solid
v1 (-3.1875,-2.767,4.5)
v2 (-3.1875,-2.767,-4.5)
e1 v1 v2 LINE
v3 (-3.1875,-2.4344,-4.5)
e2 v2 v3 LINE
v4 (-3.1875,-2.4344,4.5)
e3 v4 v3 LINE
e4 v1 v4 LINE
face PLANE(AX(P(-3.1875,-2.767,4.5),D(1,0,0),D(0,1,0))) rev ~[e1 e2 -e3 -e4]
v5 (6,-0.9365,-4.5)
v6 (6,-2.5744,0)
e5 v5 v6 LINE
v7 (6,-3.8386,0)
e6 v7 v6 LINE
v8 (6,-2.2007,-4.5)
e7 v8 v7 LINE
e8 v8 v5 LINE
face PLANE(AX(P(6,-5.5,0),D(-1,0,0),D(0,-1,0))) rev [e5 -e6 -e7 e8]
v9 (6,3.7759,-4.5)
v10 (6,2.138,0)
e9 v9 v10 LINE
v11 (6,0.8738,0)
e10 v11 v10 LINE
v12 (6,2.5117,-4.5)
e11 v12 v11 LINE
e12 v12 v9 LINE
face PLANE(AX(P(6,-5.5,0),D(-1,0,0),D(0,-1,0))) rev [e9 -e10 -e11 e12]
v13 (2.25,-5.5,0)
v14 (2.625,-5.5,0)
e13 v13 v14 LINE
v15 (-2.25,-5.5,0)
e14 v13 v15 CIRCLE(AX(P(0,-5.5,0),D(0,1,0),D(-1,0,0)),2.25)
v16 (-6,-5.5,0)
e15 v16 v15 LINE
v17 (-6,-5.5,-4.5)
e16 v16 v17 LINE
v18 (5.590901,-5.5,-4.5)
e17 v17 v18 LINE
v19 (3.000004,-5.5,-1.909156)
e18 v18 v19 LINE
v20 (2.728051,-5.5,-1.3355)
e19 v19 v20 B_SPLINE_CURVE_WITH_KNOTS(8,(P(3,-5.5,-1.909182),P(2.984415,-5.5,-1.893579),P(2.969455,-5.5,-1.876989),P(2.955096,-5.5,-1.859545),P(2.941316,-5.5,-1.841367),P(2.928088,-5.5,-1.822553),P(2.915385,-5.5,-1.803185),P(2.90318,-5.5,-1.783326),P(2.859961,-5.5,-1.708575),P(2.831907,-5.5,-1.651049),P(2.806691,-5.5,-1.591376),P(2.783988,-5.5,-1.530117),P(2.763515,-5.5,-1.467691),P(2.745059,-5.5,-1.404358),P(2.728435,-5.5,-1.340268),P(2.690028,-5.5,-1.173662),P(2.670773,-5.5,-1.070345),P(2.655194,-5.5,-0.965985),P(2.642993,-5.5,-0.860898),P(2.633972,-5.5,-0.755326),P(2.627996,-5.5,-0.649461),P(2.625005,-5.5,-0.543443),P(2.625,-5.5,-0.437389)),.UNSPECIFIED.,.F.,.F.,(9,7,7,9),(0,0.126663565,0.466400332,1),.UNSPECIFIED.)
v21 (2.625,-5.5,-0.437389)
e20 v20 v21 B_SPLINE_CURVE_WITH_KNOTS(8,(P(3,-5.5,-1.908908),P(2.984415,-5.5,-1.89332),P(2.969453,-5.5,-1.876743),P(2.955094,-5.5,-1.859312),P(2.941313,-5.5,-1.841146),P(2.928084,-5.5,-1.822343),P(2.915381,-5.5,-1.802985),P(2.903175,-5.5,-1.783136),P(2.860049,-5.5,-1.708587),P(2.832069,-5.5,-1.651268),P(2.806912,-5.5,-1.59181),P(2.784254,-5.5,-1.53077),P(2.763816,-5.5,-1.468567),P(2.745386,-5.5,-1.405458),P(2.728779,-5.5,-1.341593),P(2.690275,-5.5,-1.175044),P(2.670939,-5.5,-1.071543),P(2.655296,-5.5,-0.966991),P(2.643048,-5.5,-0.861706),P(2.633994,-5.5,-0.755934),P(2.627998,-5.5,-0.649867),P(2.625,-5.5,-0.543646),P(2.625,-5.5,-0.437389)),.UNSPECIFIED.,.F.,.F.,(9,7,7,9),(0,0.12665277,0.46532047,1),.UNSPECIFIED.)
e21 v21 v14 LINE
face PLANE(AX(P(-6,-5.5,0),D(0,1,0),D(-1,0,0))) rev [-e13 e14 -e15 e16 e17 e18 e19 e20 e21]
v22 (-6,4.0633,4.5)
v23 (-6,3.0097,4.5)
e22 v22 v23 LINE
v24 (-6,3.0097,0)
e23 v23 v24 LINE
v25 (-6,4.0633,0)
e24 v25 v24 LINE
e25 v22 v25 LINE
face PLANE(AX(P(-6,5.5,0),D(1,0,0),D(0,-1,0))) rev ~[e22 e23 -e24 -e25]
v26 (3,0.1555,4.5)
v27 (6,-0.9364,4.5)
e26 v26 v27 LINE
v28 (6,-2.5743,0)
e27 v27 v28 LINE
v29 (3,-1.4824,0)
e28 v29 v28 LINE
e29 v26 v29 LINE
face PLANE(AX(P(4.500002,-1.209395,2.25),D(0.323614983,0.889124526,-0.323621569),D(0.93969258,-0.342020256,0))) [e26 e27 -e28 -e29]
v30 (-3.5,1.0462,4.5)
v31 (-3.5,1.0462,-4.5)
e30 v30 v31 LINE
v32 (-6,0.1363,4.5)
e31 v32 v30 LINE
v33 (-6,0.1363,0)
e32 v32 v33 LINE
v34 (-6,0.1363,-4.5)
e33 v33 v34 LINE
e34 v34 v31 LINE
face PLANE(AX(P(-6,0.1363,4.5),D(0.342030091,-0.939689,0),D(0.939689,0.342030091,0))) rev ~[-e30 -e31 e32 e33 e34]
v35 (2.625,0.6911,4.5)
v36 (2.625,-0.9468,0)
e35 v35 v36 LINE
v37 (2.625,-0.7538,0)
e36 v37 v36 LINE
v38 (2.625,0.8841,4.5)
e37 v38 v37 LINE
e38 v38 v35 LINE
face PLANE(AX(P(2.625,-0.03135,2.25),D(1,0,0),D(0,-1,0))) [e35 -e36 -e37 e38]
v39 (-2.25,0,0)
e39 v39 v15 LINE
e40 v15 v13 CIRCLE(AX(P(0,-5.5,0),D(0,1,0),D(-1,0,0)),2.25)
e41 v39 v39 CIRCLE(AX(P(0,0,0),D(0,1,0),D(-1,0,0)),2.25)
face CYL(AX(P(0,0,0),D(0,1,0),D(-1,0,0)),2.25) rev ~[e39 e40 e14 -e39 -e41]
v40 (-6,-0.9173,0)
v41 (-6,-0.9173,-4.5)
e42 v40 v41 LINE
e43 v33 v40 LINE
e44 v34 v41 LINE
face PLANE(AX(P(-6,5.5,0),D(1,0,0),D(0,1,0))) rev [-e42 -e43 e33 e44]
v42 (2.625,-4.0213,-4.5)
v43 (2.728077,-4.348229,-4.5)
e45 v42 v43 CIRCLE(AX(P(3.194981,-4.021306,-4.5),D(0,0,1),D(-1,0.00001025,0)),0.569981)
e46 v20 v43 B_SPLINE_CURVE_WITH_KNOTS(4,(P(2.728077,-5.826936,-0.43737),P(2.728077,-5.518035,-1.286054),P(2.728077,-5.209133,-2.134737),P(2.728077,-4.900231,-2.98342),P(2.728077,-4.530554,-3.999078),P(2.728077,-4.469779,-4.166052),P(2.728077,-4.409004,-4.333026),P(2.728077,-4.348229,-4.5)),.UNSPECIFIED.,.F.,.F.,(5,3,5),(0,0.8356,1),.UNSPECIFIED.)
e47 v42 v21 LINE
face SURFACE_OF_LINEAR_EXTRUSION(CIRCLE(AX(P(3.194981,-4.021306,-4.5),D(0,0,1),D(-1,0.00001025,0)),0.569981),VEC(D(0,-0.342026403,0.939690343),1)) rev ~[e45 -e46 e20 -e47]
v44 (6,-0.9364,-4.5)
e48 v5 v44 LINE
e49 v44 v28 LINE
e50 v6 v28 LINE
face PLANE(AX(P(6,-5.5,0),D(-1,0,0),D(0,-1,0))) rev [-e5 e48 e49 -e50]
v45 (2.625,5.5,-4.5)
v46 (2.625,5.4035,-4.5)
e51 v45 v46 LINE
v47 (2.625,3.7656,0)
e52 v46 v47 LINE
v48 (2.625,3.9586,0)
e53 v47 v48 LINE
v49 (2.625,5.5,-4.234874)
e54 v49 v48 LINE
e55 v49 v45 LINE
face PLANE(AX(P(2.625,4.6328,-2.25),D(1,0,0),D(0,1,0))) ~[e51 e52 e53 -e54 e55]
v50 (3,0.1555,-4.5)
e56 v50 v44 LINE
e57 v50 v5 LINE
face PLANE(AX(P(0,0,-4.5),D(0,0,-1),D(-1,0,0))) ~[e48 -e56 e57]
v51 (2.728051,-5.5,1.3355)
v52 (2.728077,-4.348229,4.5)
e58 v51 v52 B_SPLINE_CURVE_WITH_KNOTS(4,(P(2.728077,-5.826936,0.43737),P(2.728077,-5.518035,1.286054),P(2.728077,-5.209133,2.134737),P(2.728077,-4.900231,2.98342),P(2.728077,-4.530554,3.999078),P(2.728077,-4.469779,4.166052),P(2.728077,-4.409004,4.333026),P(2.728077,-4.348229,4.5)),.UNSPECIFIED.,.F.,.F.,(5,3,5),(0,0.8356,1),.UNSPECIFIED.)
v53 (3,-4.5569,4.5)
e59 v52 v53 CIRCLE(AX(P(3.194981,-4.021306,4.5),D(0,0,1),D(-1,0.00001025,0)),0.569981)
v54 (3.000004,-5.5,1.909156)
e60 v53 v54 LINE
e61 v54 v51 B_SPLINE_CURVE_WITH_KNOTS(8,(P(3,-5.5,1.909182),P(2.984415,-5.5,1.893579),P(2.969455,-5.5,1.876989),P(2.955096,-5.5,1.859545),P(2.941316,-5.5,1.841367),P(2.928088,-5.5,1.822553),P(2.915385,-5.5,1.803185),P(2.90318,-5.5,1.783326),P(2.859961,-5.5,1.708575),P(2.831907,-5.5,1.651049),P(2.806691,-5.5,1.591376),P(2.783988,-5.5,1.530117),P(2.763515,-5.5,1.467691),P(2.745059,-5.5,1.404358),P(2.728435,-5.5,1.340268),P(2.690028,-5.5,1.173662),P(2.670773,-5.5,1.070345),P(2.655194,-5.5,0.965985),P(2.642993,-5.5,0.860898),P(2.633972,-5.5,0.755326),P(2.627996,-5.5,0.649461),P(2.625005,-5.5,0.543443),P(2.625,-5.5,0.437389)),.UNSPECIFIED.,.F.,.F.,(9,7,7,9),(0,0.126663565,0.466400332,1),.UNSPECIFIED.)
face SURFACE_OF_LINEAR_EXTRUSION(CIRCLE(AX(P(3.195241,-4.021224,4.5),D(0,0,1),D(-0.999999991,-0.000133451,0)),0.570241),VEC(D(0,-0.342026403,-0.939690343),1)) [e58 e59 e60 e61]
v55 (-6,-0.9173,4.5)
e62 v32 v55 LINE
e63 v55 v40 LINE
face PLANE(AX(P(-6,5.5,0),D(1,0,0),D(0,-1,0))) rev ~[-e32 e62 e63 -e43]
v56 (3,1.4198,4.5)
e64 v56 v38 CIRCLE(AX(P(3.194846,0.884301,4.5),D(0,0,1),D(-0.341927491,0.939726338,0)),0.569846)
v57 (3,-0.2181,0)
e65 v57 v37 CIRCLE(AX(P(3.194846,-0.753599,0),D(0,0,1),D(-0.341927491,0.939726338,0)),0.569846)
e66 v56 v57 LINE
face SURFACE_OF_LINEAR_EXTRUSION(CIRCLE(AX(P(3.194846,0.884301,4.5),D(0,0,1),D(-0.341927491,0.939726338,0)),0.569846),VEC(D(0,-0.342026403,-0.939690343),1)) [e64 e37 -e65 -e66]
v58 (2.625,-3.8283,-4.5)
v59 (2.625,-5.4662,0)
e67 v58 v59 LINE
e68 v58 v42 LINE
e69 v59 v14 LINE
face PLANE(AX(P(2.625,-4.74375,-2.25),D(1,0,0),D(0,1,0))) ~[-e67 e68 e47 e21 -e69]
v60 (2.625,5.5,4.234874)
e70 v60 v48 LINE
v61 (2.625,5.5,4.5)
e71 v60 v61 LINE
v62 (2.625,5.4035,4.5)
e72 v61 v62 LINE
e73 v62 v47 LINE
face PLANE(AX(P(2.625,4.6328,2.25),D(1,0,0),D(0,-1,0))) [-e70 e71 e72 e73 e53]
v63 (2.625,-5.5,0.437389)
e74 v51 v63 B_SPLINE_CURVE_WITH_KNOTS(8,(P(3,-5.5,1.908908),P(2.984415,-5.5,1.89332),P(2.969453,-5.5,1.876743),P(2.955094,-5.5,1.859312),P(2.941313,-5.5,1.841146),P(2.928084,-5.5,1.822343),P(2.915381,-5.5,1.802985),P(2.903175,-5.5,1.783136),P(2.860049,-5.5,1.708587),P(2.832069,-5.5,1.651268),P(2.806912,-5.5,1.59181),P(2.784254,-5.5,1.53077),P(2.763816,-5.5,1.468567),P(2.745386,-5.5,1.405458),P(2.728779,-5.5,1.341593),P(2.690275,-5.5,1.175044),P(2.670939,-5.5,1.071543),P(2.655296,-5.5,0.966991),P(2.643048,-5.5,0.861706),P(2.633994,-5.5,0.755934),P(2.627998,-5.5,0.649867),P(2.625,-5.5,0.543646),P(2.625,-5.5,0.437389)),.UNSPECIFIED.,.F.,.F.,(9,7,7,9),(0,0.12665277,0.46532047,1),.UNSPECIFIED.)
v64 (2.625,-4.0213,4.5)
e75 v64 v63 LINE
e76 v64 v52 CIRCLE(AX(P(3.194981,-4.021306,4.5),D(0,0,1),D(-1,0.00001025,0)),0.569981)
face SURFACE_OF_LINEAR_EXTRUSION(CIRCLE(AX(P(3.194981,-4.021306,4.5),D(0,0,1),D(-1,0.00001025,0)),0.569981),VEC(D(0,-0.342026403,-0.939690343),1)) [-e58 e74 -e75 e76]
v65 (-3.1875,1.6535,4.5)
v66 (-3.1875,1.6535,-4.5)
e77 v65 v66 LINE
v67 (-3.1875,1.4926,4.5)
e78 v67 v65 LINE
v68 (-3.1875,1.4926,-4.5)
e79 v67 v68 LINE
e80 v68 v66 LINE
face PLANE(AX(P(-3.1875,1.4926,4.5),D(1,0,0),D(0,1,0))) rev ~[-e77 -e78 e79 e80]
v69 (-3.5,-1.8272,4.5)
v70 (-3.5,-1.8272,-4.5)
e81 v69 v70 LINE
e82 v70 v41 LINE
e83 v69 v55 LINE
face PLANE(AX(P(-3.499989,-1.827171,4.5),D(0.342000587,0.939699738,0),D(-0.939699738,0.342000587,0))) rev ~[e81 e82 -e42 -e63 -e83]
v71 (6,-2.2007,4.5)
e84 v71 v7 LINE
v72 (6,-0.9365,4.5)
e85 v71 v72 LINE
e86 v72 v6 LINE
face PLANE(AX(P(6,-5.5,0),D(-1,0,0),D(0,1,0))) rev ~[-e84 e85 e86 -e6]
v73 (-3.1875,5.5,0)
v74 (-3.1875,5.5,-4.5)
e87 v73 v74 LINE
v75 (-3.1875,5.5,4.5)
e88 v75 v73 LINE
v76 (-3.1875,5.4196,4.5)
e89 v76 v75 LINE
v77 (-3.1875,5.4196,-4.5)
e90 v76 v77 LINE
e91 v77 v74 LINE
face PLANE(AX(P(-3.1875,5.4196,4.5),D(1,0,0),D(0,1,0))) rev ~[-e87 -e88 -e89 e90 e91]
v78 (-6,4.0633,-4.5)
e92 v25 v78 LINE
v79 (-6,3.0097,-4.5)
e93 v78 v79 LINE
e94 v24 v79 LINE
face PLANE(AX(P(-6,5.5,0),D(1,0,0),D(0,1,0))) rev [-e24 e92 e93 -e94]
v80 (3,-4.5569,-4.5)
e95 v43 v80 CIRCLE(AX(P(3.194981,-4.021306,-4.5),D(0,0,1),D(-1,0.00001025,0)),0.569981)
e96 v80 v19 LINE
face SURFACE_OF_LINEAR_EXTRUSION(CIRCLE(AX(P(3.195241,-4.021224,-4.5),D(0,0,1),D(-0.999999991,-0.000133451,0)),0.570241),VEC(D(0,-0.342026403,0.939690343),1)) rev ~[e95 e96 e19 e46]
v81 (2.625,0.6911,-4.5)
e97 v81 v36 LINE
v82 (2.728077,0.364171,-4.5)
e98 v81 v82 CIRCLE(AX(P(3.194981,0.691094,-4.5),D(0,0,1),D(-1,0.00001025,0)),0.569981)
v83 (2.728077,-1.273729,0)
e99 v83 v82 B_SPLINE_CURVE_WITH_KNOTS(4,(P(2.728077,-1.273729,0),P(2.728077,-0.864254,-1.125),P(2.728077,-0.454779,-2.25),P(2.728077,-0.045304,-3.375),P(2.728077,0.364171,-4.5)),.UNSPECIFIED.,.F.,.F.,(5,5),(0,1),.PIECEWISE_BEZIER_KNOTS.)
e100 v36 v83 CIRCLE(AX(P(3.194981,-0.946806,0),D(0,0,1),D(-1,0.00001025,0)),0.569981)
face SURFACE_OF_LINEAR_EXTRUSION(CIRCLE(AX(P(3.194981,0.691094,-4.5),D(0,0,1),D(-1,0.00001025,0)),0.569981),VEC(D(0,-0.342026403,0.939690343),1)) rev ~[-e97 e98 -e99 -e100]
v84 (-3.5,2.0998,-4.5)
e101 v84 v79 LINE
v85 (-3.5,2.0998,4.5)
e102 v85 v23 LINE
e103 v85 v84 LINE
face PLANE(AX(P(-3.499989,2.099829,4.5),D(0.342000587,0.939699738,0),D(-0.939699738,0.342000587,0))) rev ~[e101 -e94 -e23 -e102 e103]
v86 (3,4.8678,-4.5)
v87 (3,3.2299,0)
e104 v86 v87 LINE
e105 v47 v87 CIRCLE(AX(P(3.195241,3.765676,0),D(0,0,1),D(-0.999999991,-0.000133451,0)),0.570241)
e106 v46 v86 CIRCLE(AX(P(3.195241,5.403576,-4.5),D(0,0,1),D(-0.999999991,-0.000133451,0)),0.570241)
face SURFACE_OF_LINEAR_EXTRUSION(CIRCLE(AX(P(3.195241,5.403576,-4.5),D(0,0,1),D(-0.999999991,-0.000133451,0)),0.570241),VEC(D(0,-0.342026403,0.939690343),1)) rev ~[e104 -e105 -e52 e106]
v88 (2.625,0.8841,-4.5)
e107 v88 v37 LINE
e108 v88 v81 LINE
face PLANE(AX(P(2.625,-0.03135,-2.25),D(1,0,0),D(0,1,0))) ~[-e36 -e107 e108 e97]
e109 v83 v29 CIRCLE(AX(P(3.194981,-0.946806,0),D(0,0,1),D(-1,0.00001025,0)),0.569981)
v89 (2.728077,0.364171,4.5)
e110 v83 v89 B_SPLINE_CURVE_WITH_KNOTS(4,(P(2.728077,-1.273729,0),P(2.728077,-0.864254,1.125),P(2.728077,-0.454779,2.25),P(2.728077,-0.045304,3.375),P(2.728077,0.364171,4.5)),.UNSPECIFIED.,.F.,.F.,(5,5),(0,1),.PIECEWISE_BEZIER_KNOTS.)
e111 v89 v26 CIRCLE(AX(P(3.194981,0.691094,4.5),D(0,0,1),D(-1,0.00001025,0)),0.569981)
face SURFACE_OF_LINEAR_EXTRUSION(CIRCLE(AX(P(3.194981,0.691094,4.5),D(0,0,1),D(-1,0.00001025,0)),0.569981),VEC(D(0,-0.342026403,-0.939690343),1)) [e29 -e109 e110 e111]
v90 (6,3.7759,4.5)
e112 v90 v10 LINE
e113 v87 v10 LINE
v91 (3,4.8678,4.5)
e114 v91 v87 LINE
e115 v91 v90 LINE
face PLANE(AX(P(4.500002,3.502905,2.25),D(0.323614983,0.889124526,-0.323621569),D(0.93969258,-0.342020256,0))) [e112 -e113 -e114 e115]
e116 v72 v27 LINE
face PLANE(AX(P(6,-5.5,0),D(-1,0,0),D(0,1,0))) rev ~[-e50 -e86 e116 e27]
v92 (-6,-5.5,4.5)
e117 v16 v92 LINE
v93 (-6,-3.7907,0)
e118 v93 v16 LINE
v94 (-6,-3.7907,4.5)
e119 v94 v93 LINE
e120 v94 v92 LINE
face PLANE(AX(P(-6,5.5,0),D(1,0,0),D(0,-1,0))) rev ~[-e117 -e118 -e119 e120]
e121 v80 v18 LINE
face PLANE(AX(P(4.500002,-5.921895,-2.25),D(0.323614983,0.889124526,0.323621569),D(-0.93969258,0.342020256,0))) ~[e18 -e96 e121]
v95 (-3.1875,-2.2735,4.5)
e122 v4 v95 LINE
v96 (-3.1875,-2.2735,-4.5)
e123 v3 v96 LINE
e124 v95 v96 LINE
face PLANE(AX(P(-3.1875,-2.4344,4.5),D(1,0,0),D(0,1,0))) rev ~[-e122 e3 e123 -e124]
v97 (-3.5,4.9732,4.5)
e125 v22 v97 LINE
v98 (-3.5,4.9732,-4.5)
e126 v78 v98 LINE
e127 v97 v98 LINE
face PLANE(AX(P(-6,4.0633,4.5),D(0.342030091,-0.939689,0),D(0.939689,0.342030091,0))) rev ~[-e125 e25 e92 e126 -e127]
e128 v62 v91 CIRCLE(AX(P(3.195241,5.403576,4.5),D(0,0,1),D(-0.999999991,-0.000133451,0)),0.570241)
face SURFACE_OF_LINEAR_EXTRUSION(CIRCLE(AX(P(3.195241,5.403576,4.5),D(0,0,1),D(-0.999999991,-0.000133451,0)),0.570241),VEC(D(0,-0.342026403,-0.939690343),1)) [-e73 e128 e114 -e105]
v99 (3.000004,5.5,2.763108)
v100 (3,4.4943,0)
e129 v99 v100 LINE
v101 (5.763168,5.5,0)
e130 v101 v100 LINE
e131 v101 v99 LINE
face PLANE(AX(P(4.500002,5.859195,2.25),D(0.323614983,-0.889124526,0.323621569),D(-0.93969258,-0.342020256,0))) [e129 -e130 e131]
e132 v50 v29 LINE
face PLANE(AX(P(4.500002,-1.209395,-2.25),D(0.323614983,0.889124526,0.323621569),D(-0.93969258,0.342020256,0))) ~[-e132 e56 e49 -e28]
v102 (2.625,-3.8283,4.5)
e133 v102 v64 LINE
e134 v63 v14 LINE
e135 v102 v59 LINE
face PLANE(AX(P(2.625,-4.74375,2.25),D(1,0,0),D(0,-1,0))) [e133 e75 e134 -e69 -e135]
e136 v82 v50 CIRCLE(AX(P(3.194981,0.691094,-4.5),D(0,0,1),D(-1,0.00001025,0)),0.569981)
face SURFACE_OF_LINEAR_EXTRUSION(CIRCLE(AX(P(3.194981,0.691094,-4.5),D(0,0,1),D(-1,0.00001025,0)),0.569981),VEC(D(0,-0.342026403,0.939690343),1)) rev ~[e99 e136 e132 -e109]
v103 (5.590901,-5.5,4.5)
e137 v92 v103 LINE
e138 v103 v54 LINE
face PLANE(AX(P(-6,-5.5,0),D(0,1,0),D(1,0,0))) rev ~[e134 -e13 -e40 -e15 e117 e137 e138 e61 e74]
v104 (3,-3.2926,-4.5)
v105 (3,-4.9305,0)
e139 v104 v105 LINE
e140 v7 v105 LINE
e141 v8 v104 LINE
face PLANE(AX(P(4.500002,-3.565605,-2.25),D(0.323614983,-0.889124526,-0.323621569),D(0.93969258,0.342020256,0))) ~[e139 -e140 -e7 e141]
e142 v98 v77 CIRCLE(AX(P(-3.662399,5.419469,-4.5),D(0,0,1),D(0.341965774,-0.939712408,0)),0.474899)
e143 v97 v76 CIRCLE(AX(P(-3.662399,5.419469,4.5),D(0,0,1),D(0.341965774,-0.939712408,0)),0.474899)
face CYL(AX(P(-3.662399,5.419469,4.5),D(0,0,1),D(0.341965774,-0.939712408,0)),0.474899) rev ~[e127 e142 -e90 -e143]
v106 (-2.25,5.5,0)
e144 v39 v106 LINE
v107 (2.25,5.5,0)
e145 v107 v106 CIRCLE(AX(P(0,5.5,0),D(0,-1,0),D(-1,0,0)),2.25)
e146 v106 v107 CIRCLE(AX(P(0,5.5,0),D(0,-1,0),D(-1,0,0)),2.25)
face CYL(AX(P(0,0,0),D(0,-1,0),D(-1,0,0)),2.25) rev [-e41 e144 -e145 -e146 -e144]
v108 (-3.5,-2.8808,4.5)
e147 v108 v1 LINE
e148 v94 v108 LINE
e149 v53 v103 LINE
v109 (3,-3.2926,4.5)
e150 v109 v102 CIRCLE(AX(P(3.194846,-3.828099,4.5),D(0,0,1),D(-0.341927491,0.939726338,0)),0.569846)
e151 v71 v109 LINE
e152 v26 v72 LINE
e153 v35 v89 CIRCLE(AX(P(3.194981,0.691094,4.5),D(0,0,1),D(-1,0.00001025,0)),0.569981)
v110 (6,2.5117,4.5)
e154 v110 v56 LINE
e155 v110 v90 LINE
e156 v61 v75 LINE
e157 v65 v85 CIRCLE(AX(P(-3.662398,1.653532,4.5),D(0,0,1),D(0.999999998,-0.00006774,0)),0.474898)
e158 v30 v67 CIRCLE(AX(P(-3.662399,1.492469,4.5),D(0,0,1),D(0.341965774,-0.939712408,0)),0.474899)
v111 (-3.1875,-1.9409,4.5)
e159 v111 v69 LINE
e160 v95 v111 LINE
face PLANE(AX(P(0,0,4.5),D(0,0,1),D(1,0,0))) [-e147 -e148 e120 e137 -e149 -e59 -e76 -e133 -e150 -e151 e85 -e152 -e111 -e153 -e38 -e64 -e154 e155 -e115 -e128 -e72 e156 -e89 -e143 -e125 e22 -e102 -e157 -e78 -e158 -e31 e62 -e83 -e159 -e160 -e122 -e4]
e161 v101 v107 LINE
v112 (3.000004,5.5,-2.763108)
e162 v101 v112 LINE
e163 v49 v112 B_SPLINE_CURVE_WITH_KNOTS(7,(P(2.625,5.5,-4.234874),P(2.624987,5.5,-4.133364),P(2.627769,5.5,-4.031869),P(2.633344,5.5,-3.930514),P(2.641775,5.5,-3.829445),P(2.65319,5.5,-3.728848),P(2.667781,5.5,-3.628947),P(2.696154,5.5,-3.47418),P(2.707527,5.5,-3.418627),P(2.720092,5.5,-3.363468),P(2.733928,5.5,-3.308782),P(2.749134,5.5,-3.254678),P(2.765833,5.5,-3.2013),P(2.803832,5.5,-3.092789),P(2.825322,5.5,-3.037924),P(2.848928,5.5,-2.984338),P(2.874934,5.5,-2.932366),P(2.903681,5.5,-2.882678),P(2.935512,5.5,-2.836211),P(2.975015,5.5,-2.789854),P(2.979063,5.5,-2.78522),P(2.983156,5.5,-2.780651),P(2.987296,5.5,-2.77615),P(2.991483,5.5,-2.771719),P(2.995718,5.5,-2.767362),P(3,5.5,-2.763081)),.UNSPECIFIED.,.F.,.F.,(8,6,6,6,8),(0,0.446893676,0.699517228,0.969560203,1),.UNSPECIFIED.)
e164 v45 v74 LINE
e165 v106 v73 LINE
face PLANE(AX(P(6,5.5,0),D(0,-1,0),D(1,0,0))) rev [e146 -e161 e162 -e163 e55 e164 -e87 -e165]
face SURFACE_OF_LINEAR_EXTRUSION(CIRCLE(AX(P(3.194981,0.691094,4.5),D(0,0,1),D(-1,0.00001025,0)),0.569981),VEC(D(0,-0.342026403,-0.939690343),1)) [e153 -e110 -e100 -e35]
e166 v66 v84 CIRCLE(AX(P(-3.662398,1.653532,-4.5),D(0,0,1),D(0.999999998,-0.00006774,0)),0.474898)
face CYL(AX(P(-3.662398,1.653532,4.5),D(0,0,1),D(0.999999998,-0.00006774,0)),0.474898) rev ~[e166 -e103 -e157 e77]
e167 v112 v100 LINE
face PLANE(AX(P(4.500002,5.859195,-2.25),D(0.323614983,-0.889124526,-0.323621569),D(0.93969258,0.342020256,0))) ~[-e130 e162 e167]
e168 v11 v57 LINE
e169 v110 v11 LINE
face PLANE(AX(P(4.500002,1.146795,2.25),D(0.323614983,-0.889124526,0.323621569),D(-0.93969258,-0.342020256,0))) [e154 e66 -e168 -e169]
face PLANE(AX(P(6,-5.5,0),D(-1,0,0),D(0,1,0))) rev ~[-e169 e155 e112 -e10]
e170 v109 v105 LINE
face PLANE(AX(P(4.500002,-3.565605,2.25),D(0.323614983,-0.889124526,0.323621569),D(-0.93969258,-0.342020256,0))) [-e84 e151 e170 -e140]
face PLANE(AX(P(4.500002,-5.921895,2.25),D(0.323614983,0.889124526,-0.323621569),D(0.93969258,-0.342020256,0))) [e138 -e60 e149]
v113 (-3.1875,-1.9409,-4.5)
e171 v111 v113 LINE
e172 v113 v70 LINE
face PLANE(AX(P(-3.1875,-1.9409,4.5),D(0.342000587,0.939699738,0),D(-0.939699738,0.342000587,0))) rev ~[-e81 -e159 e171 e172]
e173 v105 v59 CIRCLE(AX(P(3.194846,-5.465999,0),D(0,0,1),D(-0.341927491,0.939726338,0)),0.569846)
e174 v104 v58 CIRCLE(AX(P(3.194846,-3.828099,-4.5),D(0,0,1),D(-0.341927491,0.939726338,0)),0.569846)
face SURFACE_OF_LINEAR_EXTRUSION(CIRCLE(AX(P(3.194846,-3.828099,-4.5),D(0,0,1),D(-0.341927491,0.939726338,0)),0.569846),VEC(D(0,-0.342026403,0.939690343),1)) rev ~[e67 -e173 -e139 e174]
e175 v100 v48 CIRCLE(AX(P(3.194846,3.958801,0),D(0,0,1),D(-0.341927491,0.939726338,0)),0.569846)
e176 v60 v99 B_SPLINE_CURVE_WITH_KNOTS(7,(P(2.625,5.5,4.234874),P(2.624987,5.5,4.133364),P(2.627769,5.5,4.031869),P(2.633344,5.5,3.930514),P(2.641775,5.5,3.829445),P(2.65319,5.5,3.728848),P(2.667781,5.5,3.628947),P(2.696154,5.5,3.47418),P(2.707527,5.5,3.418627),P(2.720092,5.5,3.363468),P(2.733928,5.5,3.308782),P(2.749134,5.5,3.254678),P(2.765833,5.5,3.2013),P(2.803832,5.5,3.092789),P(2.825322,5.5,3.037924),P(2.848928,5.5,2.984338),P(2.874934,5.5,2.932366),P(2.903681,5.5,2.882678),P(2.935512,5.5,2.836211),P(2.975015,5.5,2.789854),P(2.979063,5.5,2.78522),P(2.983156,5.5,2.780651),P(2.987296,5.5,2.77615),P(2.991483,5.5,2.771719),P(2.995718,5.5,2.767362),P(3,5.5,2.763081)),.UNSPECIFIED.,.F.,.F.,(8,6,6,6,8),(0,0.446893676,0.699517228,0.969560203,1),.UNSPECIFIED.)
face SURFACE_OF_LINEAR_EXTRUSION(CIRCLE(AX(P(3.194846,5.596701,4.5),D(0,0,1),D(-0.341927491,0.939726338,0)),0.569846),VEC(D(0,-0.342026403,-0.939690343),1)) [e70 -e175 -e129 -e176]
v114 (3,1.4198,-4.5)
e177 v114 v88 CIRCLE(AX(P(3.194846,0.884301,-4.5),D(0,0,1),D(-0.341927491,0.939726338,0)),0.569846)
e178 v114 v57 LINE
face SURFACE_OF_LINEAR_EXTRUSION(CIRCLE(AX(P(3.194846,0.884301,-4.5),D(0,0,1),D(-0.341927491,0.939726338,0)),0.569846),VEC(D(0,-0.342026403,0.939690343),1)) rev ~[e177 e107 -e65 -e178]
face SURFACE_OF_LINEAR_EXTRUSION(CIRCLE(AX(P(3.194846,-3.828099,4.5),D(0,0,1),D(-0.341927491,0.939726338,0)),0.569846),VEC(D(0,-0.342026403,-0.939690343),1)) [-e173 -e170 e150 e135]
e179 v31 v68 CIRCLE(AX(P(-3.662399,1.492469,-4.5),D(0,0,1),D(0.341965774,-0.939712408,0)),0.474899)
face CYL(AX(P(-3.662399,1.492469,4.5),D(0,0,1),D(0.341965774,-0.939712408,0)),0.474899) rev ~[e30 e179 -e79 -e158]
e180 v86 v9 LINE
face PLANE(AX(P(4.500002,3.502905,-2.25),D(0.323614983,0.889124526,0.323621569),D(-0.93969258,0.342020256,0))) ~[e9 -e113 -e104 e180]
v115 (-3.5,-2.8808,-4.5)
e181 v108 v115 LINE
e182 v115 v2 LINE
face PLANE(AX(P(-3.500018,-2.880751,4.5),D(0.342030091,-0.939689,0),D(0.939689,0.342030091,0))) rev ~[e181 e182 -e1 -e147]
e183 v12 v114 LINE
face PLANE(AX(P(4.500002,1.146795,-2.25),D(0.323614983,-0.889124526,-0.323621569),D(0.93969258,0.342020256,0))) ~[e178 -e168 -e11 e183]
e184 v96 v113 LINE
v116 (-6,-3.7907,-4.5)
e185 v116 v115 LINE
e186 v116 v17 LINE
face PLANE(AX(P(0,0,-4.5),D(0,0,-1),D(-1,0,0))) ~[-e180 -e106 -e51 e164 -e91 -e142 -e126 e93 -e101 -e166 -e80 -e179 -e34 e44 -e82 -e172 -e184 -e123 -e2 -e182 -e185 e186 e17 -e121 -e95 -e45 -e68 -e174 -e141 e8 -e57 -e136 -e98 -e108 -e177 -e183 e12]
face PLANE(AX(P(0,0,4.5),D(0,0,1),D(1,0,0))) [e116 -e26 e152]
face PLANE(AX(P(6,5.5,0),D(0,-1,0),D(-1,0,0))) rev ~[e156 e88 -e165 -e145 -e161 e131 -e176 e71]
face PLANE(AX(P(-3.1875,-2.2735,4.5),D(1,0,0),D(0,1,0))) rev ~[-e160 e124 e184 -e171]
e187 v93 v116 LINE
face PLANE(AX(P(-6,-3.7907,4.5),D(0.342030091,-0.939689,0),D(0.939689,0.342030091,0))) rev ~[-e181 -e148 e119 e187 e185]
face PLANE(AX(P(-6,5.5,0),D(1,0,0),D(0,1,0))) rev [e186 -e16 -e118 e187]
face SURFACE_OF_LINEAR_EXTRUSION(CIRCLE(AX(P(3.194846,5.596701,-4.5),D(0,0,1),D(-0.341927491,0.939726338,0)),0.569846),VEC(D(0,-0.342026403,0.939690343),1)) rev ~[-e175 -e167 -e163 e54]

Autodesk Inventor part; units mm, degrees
ref_plane "YZ Plane" through (0, 0, 0) normal (1, 0, 0) x (0, 1, 0)
ref_plane "XZ Plane" through (0, 0, 0) normal (0, 1, 0) x (-1, 0, 0)
ref_plane "XY Plane" through (0, 0, 0) normal (0, 0, 1) x (1, 0, 0)
sketch "Sketch1" plane through (0, 0, 0) normal (0, 0, 1) x (1, 0, 0)
  line L0 (-6, -5.5) -> (6, -5.5)
  line L1 (6, -5.5) -> (6, 5.5)
  line L2 (6, 5.5) -> (-6, 5.5)
  line L3 (-6, 5.5) -> (-6, -5.5)
  point P0 (0, 0)
  point P1 (-6, 0)
  point P2 (0, 5.5)
  dimension "d0" = 12
  dimension "d1" = 11
extrude "Extrusion1" add sketch "Sketch1" along normal blind 4.5
sketch "Sketch2" plane through (0, 0, 4.5) normal (0, 0, 1) x (1, 0, 0)
  line L0 (6, -5.5) -> (6, 5.5) projected
  line L1 (6, 5.5) -> (-6, 5.5) projected
  line L2 (-6, 5.5) -> (-6, -5.5) projected
  line L3 (-6, -5.5) -> (6, -5.5) projected
  line L4 (6, -5.5) -> (6, 5.5) projected
  line L5 (6, 7.2241) -> (2.625, 5.9957)
  line L6 (2.625, 5.9957) -> (2.625, 5.0043)
  line L7 (2.625, 5.0043) -> (6, 3.7759)
  line L8 (6, 2.5117) -> (2.625, 1.2833)
  line L9 (2.625, 1.2833) -> (2.625, 0.292)
  line L10 (2.625, 0.292) -> (6, -0.9364)
  arc A0 (3, 6.1322) -> (2.625, 5.5965) centre (3.195, 5.5965) ccw
  arc A1 (2.625, 5.4035) -> (3, 4.8678) centre (3.195, 5.4035) ccw
  line L11 (6, 5.5) -> (-6, 5.5) projected
  arc A2 (2.625, 0.6911) -> (3, 0.1555) centre (3.195, 0.6911) ccw
  arc A3 (3, 1.4198) -> (2.625, 0.8841) centre (3.195, 0.8841) ccw
  line L12 (6, 7.2241) -> (6, 3.7759)
  line L13 (0, 5.5) -> (0.4792, -5.5)
  line L14 (0, -5.5) -> (6, -5.5) projected
  line L15 (-6.1272, 6.6958) -> (-2.6582, 5.7655)
  line L16 (-2.6582, 5.7655) -> (-2.572, 4.778)
  line L17 (-2.572, 4.778) -> (-5.8274, 3.2607)
  arc A4 (-2.6235, 5.3679) -> (-3.0437, 5.8689) centre (-3.1913, 5.3183) ccw
  arc A5 (-2.9337, 4.6094) -> (-2.6067, 5.1756) centre (-3.1745, 5.126) ccw
  line L18 (-6.1272, 6.6958) -> (-5.8274, 3.2607)
  line L19 (-5.7174, 2.0012) -> (-2.2484, 1.071)
  line L20 (-2.2484, 1.071) -> (-2.1622, 0.0834)
  line L21 (-2.1622, 0.0834) -> (-5.4176, -1.4338)
  arc A6 (-2.5239, -0.0852) -> (-2.1969, 0.481) centre (-2.7647, 0.4315) ccw
  arc A7 (-2.2137, 0.6734) -> (-2.6339, 1.1744) centre (-2.7815, 0.6238) ccw
  point P0 (0, 0)
  point P1 (0, 0)
  point P2 (2.625, 5.5)
  point P3 (4.5, 4.3219)
  point P4 (4.5, 1.9657)
  point P5 (2.625, 5.5)
  point P6 (6, -0.9364)
  point P7 (-2.6151, 5.2717)
  point P8 (-4.3805, 3.9351)
  point P9 (-6, 5.2386)
  point P10 (0, 7.2759)
  point P11 (-4.1756, 1.5878)
  point P12 (0, 2.5636)
  point P13 (0, 6.0117)
  point P14 (4.5, -0.3905)
  dimension "d14" = 70
  dimension "d15" = 4.7124
  dimension "d16" = 0.57
  dimension "d17" = 3.375
  dimension "d18" = 1.5
  dimension "d19" = 2.3562
  dimension "d48" = 2.3562
sketch "Sketch3" plane through (6, -5.5, 0) normal (1, 0, 0) x (0, 0, -1)
  line L0 (-4.5, 0) -> (-4.5, 11) projected
  line L1 (-4.5, 11) -> (-4.5, 0) projected
  line L2 (-4.5, 4.5636) -> (0, 2.9257)
  line L3 (0, 5.5) -> (0, 11) projected
  line L4 (0, 11) -> (-4.5, 11) projected
  dimension "d31" = 20
sweep "Sweep1" cut profiles "Sketch2" path "Sketch3" path curves L2 contours L10 A2 L9 A3 L8 L0 | L7 A1 L6 L1 L0 | L6 A0 L5 L12 L1
pattern_linear "Rectangular Pattern2" count 8 spacing 4.7124 along (0, -1, 0) of "Sweep1"
mirror "Mirror2" about plane through (0, 0, 0) normal (0, 0, -1)
ref_plane "Work Plane3" through (4.5, 2.8745, 4.5) normal (1, 0, 0) x (0, 0, -1)
sketch "Sketch6" plane through (0, 0, 4.5) normal (0, 0, 1) x (1, 0, 0)
  arc A0 (3, -3.2926) -> (2.625, -3.8283) centre (3.195, -3.8283) ccw projected
  line L0 (3, -3.2926) -> (6, -2.2007) projected
  line L1 (6, -2.2007) -> (6, -0.9364) projected
  line L2 (6, -0.9364) -> (3, 0.1555) projected
  arc A1 (2.625, 0.6911) -> (3, 0.1555) centre (3.195, 0.6911) ccw projected
  line L3 (2.625, 0.6911) -> (2.625, 0.8841) projected
  arc A2 (3, 1.4198) -> (2.625, 0.8841) centre (3.195, 0.8841) ccw projected
  line L4 (3, 1.4198) -> (6, 2.5117) projected
  line L5 (6, 2.5117) -> (6, 3.7759) projected
  line L6 (6, 3.7759) -> (3, 4.8678) projected
  arc A3 (2.625, 5.4035) -> (3, 4.8678) centre (3.195, 5.4035) ccw projected
  line L7 (2.625, 5.4035) -> (2.625, 5.5) projected
  line L8 (2.625, 5.5) -> (-6, 5.5) projected
  line L9 (-6, 5.5) -> (-6, -5.5) projected
  line L10 (-6, -5.5) -> (5.5911, -5.5) projected
  line L11 (-6, 4.0633) -> (-3.1875, 5.087)
  line L12 (-3.1875, 5.087) -> (-3.1875, 5.913)
  line L13 (2.625, 5.5) -> (-6, 5.5) projected
  line L14 (-3.1875, 5.913) -> (-6, 6.9367)
  line L15 (-6, 6.9367) -> (-6, 5.5)
  arc A4 (-3.5, 4.9732) -> (-3.1875, 5.4196) centre (-3.6625, 5.4196) ccw
  arc A5 (-3.1875, 5.5804) -> (-3.5, 6.0268) centre (-3.6625, 5.5804) ccw
  arc A6 (-3.5, 1.0462) -> (-3.1875, 1.4926) centre (-3.6625, 1.4926) ccw
  line L16 (-3.1875, 1.16) -> (-3.1875, 1.9861)
  arc A7 (-3.1875, 1.6535) -> (-3.5, 2.0998) centre (-3.6625, 1.6535) ccw
  line L17 (-3.1875, 1.9861) -> (-6, 3.0097)
  line L18 (-6, 3.0097) -> (-6, 1.573)
  line L19 (-6, 0.1363) -> (-3.1875, 1.16)
  arc A8 (-3.5, -2.8808) -> (-3.1875, -2.4344) centre (-3.6625, -2.4344) ccw
  line L20 (-3.1875, -2.767) -> (-3.1875, -1.9409)
  arc A9 (-3.1875, -2.2735) -> (-3.5, -1.8272) centre (-3.6625, -2.2735) ccw
  line L21 (-3.1875, -1.9409) -> (-6, -0.9173)
  line L22 (-6, -0.9173) -> (-6, -2.354)
  line L23 (-6, -3.7907) -> (-3.1875, -2.767)
  arc A10 (-3.5, -6.8078) -> (-3.1875, -6.3614) centre (-3.6625, -6.3614) ccw
  line L24 (-3.1875, -6.694) -> (-3.1875, -5.8679)
  arc A11 (-3.1875, -6.2005) -> (-3.5, -5.7542) centre (-3.6625, -6.2005) ccw
  line L25 (-3.1875, -5.8679) -> (-6, -4.8443)
  line L26 (-6, -4.8443) -> (-6, -6.281)
  line L27 (-6, -7.7177) -> (-3.1875, -6.694)
  line L28 (5.5911, -5.5) -> (3, -4.5569) projected
  arc A12 (2.625, -4.0213) -> (3, -4.5569) centre (3.195, -4.0213) ccw projected
  line L29 (2.625, -4.0213) -> (2.625, -3.8283) projected
  point P0 (0, 0)
  point P1 (-4.75, 6.4817)
  point P2 (-4.75, 4.5183)
  point P3 (-3.1875, 5.5)
  point P4 (-3.1875, 1.573)
  point P5 (-4.75, 2.5548)
  point P6 (-4.75, 0.5913)
  point P7 (-3.1875, -2.354)
  point P8 (-4.75, -1.3722)
  point P9 (-4.75, -3.3357)
  point P10 (-3.1875, -6.281)
  point P11 (-4.75, -5.2992)
  point P12 (-4.75, -7.2627)
  point P13 (-5.2013, -4.5)
  dimension "d50" = 70
  dimension "d51" = 1.25
  dimension "d52" = 1.5625
  dimension "d53" = 1.9635
  dimension "d54" = 0.475
  dimension "d57" = 3.927
extrude "Extrusion4" cut sketch "Sketch6" against normal blind 10 contours L9 L21 A9 L20 A8 L23 | A8 L20 L23 | L9 L17 A7 L16 A6 L19 | L21 L20 A9 | L12 A4 L11 L9 L8
ref_plane "Work Plane4" through (-4.75, 3.0097, -4.5) normal (-1, 0, 0) x (0, 0, 1)
sketch "Sketch7" plane through (0, 0, 0) normal (0, 1, 0) x (-1, 0, 0)
  circle A0 centre (0, 0) radius 2.25
  dimension "d65" = 4.5
extrude "Extrusion5" cut sketch "Sketch7" along normal through all both and the other way through all
equation "\"d15\" = 3.14159 * d18"
equation "\"d16\" = 0.38 * d18"
equation "\"d17\" = 2.25 * d18"
equation "\"d19\" = 0.5 * d15"
equation "\"d48\" = d19"
equation "\"d52\" = 1.25 * d51"
equation "\"d53\" = 1.5708 * d51"
equation "\"d54\" = 0.38 * d51"
equation "\"d57\" = 3.14159 * d51"
equation "\"d32\" = 20.5deg"
properties part number "rack_3DPrint"
